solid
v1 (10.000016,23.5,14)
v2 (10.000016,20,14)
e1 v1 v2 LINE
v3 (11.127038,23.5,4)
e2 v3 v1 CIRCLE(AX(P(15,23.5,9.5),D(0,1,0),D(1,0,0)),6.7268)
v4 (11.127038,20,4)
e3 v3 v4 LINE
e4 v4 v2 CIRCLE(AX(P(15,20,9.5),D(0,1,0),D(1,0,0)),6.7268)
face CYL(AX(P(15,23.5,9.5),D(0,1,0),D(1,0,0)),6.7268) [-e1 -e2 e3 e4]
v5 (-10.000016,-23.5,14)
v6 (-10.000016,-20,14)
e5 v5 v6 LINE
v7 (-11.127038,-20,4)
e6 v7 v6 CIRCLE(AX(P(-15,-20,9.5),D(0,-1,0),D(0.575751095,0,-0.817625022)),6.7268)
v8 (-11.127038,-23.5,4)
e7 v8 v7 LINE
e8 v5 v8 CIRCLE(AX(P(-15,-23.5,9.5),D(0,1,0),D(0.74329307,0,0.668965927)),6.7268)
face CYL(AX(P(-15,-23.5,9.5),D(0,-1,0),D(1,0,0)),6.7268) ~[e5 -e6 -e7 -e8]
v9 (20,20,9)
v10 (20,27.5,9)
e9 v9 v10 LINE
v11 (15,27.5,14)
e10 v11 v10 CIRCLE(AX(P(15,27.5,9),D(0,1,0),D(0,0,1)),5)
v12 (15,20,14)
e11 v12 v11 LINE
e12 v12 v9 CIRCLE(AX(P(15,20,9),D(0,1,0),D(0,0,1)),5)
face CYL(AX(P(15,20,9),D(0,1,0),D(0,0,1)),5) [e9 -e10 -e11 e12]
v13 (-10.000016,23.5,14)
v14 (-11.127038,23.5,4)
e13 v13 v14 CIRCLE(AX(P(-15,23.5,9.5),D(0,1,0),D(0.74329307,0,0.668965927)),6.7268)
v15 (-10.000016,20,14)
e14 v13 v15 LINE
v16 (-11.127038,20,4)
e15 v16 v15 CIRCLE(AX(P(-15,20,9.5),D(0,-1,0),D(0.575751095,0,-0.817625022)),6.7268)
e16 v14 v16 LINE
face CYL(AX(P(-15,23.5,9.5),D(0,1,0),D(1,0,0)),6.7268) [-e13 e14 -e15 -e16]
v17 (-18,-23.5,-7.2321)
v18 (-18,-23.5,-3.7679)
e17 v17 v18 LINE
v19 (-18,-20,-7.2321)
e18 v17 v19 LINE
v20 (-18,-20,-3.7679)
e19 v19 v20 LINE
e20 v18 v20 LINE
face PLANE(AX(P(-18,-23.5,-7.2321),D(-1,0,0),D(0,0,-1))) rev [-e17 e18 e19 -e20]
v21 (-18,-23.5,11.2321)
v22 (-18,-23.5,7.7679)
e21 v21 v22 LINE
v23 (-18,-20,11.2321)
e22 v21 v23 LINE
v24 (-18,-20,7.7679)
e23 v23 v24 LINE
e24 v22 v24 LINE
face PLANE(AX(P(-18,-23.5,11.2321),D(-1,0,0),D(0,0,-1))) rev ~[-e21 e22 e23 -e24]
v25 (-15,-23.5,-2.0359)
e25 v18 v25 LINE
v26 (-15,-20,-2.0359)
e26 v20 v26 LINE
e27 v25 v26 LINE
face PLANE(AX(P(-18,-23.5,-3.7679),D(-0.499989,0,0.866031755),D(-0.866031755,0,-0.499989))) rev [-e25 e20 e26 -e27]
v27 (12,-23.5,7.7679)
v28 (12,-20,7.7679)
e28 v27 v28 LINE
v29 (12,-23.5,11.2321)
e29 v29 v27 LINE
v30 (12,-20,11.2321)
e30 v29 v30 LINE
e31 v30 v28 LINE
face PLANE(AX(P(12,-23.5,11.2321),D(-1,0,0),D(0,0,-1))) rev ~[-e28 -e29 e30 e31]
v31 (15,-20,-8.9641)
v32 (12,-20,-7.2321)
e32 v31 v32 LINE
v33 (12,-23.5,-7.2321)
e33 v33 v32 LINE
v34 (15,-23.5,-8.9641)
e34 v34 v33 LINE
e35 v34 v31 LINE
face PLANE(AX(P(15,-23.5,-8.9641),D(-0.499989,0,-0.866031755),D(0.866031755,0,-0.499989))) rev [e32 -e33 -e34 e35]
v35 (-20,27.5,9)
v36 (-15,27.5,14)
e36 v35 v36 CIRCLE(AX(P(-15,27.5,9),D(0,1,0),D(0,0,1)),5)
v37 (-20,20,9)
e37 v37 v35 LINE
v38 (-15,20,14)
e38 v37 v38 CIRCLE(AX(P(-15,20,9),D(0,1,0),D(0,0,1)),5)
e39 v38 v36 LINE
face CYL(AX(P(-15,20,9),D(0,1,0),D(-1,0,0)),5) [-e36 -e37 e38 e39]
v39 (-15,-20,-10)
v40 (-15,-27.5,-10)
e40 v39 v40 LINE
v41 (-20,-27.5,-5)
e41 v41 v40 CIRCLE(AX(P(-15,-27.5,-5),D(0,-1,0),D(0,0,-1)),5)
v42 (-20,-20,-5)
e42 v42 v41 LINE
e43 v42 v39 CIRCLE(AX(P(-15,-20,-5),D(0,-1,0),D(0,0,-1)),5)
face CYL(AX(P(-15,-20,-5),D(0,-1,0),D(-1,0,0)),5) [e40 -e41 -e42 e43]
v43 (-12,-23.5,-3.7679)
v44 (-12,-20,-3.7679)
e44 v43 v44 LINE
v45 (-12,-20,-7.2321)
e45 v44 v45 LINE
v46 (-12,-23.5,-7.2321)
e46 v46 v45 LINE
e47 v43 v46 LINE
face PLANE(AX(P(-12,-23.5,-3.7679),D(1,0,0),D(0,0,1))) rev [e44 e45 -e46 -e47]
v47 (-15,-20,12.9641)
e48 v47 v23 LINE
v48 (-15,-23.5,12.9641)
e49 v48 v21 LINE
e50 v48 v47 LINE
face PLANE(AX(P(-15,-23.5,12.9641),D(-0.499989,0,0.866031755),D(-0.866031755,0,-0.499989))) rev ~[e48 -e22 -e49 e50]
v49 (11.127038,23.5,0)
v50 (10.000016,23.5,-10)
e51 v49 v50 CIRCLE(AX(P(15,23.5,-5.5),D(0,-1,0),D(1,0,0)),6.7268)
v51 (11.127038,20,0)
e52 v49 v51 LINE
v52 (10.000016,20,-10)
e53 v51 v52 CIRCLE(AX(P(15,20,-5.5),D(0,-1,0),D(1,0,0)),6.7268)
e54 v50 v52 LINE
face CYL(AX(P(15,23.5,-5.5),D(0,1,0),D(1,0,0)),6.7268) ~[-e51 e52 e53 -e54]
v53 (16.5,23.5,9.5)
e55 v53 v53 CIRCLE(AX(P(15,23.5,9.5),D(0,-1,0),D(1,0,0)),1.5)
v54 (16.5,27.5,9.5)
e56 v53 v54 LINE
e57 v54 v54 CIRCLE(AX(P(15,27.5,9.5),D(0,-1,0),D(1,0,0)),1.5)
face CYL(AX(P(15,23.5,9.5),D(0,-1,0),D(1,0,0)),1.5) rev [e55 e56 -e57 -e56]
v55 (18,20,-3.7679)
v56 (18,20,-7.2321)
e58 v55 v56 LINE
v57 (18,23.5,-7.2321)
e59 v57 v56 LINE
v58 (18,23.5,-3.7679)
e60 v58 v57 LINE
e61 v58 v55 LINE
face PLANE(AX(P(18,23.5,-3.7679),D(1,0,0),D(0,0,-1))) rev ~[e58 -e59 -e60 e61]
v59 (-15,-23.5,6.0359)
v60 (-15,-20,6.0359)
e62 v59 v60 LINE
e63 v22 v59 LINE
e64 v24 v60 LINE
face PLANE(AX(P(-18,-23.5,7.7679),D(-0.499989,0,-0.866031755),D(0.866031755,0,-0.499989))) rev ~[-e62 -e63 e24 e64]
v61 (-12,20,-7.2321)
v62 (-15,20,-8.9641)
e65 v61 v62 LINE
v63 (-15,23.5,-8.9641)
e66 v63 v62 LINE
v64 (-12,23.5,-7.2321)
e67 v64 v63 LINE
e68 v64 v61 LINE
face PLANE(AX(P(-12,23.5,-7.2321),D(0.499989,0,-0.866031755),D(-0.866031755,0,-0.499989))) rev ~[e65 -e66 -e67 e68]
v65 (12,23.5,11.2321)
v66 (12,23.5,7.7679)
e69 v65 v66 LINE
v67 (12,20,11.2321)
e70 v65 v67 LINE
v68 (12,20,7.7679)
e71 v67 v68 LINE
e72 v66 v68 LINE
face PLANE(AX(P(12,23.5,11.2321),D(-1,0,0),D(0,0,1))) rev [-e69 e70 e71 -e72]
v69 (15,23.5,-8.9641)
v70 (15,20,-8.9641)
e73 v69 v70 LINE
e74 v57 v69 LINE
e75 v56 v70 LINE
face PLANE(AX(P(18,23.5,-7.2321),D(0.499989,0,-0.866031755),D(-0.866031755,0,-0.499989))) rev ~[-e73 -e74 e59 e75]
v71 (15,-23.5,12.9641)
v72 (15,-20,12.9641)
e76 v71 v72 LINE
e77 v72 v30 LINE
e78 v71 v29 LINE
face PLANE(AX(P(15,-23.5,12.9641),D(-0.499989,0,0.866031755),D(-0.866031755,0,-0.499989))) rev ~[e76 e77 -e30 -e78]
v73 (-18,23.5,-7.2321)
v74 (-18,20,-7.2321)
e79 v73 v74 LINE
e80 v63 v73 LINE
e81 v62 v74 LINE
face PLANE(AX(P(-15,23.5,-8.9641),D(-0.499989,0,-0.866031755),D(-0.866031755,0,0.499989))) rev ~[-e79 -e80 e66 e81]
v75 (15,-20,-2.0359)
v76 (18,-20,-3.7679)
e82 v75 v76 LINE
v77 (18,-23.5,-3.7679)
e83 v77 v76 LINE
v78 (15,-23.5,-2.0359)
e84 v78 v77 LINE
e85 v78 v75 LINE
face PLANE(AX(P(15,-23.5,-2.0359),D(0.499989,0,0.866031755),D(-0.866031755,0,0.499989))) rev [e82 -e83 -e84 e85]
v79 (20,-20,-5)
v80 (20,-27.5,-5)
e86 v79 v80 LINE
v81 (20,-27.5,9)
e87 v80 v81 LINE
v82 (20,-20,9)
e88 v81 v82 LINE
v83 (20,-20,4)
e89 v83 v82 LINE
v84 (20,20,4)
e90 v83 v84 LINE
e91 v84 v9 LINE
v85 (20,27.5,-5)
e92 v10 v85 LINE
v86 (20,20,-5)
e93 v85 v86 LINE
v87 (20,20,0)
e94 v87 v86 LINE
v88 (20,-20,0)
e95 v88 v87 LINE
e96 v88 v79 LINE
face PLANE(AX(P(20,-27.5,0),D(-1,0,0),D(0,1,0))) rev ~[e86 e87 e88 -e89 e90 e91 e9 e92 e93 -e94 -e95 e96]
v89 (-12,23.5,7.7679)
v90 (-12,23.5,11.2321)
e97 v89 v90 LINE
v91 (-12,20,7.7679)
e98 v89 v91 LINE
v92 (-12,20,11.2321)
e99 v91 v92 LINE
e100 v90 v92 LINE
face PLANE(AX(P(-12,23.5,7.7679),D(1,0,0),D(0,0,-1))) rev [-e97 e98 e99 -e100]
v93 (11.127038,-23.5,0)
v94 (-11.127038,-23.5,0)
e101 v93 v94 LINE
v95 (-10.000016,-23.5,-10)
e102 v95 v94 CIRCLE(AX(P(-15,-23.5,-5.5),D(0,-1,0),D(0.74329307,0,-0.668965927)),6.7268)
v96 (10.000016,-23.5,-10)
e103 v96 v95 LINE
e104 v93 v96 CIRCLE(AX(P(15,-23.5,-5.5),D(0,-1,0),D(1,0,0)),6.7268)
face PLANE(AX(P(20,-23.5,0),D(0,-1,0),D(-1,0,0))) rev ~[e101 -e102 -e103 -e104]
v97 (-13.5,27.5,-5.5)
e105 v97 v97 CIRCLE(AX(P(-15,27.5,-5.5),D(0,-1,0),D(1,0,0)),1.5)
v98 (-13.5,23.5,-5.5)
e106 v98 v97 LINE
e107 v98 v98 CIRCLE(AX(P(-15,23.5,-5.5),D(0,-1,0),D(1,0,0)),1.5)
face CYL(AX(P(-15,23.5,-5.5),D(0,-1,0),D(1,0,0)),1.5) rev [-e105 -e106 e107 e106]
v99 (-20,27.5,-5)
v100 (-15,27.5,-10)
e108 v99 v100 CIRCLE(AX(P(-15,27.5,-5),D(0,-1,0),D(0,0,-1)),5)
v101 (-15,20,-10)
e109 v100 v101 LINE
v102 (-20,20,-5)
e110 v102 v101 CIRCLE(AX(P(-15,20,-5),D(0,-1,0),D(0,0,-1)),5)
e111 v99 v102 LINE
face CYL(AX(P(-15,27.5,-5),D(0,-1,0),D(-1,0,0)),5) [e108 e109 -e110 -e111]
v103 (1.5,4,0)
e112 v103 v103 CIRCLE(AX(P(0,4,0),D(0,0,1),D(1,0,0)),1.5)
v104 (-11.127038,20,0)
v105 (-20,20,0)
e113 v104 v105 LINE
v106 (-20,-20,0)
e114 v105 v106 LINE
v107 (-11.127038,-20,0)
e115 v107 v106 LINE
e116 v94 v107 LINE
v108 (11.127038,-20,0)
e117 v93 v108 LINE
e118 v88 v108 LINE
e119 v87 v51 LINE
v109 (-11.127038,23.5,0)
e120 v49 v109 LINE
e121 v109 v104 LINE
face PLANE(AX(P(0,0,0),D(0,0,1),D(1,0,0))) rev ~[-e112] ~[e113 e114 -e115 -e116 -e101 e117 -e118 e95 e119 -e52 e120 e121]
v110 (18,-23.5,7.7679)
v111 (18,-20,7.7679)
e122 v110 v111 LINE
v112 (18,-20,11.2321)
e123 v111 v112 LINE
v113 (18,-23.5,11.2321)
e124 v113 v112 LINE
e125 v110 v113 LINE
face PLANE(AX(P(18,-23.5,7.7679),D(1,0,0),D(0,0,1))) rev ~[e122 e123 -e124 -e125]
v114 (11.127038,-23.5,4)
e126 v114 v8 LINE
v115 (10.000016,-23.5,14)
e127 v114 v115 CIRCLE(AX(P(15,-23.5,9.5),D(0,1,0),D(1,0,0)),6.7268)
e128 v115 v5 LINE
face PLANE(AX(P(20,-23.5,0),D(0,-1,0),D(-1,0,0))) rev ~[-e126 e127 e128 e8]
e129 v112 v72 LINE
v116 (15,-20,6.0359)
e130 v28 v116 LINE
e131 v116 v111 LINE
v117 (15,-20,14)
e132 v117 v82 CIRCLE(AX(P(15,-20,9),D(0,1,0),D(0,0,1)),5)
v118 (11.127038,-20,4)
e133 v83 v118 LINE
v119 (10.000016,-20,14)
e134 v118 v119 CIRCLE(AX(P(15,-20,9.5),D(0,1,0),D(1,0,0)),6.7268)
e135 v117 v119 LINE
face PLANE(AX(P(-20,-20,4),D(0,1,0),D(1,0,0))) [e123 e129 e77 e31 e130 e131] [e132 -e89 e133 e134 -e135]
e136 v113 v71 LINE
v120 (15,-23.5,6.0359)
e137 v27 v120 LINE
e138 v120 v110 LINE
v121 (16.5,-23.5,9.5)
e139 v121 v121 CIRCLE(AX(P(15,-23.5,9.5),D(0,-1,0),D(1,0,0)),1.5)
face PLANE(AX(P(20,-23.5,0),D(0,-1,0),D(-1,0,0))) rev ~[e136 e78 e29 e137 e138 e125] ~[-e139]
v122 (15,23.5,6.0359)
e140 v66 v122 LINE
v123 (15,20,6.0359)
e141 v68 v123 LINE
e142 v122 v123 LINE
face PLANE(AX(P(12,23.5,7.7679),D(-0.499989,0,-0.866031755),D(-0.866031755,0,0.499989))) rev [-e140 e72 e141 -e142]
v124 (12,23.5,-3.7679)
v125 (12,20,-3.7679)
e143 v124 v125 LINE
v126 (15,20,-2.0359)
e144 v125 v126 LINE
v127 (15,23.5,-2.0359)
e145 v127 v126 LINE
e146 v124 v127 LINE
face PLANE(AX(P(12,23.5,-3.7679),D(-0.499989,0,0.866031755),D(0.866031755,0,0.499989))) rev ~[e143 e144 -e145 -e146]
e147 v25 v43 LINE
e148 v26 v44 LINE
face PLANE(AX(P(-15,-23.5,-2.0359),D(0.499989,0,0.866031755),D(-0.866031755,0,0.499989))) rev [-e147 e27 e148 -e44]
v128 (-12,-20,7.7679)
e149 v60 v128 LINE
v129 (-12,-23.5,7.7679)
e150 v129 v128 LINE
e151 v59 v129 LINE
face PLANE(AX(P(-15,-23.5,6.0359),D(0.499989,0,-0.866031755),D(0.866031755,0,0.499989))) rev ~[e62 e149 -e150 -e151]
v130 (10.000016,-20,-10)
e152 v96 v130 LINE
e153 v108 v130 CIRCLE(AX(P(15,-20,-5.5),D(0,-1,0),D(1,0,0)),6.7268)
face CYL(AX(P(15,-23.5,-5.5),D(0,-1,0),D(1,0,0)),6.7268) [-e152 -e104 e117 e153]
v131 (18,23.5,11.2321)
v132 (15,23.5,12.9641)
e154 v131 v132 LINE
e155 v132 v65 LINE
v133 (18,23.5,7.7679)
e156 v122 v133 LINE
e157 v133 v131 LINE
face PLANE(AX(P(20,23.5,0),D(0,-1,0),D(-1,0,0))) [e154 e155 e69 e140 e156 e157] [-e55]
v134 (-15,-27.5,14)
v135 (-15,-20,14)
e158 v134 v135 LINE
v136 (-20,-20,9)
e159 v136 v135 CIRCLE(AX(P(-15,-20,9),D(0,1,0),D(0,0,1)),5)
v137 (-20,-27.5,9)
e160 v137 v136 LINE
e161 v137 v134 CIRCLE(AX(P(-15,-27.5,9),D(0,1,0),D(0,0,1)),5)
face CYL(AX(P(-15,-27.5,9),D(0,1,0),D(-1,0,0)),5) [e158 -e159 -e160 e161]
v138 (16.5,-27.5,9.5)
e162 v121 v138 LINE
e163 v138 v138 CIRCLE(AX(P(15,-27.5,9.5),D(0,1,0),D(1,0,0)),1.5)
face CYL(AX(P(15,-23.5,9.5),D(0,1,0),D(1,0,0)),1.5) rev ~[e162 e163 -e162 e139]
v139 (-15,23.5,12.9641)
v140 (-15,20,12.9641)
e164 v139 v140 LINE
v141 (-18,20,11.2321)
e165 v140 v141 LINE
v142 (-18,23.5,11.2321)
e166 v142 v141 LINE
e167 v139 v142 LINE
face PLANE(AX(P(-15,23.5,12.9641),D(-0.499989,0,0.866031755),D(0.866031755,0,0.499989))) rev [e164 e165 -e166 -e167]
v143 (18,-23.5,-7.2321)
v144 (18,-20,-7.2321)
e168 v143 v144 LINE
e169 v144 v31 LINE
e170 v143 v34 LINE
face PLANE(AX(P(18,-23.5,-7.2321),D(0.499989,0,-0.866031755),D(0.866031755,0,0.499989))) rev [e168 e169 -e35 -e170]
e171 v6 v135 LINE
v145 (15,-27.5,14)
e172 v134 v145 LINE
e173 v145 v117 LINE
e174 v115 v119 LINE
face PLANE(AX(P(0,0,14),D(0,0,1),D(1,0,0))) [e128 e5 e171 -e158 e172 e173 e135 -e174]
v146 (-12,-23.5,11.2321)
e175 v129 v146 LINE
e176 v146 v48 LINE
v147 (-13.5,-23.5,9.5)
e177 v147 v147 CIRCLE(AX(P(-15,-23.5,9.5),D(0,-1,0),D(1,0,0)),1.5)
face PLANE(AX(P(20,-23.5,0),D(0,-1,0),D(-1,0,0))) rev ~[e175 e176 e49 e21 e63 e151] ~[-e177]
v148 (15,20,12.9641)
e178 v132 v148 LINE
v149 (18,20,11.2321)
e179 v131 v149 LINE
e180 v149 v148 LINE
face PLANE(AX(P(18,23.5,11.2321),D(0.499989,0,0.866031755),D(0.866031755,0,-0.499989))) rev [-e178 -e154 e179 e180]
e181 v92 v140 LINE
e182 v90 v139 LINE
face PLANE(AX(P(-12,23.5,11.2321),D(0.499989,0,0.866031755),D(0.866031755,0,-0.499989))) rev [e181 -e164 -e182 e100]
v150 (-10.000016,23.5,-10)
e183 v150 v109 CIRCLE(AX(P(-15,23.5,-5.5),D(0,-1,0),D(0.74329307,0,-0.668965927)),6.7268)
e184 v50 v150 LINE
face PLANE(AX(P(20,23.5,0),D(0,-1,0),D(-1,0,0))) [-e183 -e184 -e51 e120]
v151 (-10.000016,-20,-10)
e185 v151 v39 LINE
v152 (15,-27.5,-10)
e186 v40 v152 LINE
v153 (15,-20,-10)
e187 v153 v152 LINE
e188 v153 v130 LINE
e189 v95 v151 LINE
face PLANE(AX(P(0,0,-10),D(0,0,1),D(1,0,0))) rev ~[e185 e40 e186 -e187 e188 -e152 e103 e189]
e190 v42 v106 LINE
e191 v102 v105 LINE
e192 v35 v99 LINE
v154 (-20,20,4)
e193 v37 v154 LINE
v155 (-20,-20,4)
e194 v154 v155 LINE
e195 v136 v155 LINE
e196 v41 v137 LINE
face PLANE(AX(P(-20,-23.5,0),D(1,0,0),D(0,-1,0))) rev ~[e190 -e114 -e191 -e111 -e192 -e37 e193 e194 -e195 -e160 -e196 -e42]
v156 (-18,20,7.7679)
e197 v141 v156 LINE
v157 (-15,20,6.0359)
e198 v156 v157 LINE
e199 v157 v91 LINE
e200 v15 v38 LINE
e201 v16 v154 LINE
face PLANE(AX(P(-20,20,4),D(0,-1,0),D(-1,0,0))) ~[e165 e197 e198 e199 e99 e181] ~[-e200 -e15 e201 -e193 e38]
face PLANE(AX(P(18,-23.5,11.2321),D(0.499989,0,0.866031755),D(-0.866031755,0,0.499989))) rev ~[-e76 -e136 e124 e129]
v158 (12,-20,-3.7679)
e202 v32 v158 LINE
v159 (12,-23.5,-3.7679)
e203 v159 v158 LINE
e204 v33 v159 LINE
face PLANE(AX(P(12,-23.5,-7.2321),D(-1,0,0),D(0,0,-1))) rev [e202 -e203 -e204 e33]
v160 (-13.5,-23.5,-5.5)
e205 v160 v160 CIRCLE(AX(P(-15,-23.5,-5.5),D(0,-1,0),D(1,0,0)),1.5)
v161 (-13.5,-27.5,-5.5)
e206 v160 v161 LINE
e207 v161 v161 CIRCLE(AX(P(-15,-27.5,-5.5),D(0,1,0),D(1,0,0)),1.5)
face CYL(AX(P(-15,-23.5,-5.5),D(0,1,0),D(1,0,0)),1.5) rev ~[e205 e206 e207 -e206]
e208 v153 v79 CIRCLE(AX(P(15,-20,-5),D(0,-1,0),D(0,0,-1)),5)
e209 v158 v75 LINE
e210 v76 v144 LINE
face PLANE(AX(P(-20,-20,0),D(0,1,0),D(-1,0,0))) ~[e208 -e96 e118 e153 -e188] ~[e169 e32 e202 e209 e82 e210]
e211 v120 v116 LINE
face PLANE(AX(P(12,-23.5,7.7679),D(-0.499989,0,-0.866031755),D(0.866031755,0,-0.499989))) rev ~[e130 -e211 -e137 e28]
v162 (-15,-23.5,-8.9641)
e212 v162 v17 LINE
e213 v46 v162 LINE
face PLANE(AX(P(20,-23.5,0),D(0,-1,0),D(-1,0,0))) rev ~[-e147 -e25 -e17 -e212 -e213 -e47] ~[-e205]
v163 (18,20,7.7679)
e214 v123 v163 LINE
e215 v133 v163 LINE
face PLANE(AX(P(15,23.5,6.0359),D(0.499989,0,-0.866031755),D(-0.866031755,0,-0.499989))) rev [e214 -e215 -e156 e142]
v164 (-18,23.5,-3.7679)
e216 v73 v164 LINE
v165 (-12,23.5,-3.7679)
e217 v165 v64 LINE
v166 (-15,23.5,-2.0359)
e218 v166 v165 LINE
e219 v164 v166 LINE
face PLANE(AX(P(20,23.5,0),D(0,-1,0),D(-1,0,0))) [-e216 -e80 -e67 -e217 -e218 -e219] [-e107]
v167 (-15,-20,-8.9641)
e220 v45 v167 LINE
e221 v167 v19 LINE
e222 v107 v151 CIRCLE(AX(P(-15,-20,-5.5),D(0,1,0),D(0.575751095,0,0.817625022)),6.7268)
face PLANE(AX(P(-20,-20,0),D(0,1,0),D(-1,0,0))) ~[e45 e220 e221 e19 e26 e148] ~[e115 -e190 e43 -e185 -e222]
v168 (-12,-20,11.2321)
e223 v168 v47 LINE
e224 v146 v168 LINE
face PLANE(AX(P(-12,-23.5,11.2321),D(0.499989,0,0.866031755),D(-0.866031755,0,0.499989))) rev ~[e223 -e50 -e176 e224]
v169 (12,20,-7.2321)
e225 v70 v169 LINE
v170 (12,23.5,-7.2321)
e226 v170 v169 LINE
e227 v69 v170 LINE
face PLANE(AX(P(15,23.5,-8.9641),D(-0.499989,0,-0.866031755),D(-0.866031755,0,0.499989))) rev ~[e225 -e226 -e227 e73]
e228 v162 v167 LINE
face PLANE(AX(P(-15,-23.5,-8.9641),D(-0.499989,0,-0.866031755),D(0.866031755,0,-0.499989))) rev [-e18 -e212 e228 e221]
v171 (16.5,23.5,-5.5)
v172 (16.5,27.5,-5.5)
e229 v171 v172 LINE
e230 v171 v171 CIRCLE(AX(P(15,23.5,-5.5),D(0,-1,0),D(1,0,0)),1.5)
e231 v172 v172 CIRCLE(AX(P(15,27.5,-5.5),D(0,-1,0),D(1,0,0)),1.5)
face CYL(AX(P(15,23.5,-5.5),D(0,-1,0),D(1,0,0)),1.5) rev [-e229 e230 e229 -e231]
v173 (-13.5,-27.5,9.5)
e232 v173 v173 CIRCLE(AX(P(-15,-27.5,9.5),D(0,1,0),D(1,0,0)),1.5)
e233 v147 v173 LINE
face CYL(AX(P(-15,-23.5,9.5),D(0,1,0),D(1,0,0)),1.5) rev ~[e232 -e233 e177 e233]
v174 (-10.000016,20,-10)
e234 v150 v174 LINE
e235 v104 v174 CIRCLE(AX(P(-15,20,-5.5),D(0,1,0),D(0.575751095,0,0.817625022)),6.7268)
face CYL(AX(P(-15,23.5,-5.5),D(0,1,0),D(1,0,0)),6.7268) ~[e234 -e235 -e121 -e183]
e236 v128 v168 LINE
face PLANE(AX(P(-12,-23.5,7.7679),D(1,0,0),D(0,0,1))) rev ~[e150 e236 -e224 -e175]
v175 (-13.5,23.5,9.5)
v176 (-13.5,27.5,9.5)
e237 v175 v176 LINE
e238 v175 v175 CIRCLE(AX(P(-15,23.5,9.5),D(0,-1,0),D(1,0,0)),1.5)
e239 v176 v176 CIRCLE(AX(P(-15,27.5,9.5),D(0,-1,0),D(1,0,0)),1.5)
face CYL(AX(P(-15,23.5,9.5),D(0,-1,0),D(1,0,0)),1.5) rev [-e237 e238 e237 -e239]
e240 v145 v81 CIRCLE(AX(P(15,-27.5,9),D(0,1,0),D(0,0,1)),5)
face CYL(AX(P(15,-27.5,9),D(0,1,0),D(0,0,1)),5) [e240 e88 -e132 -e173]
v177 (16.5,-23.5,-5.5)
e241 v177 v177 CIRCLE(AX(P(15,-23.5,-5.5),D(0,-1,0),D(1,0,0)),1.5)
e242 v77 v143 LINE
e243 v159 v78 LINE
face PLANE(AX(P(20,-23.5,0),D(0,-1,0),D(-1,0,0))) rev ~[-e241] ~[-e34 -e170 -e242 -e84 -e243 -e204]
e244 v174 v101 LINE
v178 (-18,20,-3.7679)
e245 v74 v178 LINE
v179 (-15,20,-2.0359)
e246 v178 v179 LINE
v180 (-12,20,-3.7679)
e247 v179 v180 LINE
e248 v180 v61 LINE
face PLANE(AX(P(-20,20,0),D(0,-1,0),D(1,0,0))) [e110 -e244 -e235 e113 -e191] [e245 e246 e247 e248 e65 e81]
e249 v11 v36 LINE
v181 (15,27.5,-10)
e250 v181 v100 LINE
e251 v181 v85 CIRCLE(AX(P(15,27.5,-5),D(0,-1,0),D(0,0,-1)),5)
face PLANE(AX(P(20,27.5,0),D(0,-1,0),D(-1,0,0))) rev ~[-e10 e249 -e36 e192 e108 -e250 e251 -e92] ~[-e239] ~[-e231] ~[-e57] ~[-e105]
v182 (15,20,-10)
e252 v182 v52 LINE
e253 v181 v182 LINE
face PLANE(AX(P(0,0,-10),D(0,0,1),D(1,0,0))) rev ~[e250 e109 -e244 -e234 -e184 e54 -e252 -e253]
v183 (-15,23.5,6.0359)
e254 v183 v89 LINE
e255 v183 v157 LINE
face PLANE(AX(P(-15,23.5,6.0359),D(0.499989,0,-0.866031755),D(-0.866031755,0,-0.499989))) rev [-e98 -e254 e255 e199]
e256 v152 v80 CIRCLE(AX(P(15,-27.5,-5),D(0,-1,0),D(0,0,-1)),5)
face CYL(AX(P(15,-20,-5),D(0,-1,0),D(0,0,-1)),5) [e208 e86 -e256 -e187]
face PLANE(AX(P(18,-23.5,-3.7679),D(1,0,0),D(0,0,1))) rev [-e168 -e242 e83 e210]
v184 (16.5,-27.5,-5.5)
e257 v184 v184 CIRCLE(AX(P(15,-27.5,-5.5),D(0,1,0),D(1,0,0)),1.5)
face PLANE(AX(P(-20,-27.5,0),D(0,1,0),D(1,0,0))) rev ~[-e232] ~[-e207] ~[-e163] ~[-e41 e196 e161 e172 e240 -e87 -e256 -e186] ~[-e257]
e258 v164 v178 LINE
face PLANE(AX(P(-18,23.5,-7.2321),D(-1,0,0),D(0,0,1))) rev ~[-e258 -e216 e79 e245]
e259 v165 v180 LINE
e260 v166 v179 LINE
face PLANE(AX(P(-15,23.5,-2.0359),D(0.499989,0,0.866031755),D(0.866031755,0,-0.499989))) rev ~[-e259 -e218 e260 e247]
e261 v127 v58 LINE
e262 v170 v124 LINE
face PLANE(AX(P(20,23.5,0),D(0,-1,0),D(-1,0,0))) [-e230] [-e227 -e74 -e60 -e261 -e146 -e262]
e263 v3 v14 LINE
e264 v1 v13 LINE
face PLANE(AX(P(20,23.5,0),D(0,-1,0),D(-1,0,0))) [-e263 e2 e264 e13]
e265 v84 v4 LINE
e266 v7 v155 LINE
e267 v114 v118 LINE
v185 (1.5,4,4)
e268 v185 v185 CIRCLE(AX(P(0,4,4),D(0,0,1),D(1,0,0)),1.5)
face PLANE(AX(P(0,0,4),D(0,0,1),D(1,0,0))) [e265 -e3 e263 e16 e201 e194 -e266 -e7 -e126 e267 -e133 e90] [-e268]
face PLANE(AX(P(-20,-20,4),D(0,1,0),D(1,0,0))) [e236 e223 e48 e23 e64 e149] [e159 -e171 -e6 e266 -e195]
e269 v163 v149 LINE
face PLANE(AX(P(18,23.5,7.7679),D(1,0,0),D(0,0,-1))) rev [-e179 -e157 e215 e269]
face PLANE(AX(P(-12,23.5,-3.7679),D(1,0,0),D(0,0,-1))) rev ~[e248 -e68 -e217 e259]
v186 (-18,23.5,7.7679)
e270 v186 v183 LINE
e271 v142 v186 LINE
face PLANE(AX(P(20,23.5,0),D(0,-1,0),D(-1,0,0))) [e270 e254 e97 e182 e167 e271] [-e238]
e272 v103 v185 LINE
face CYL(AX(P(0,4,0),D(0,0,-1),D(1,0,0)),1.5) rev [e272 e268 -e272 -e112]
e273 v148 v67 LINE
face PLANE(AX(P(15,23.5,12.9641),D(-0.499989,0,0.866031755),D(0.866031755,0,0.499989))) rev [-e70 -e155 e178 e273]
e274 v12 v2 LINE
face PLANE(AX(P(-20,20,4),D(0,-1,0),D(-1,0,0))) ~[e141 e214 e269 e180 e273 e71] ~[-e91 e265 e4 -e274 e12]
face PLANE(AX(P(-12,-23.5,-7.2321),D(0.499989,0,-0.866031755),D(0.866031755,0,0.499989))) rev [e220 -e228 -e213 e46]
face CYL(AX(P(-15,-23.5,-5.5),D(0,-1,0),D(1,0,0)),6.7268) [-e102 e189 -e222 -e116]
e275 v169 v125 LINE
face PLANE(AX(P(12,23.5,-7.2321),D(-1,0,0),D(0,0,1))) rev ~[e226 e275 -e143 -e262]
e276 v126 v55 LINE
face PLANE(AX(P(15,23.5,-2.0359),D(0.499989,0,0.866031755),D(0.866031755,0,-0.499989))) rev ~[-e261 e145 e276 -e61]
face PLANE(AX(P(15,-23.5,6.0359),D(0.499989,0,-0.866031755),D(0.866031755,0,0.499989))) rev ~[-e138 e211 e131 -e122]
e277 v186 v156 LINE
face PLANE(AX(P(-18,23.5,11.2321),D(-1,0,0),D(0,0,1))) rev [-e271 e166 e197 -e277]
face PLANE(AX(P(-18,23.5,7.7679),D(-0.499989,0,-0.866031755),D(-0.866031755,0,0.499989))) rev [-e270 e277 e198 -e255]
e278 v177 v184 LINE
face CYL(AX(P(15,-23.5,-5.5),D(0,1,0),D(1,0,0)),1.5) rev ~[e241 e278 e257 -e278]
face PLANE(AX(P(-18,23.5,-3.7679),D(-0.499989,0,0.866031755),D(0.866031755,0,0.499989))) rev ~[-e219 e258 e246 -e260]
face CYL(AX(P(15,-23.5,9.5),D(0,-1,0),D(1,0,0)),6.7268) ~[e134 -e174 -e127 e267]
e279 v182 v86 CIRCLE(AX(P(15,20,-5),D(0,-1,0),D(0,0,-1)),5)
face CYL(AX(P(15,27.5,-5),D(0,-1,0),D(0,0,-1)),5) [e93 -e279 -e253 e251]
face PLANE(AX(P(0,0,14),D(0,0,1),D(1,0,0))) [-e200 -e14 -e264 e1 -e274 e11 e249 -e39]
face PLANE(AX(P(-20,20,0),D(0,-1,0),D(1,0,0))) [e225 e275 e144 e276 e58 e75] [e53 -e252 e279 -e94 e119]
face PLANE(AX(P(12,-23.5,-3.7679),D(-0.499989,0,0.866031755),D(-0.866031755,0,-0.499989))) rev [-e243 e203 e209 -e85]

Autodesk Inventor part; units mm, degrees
ref_plane "YZ Plane" through (0, 0, 0) normal (1, 0, 0) x (0, 1, 0)
sketch "Sketch4" plane through (0, 0, 0) normal (0, 0, 1) x (1, 0, 0)
  line L0 (-20, -27.5) -> (20, -27.5)
  line L1 (20, -27.5) -> (20, 27.5)
  line L2 (20, 27.5) -> (-20, 27.5)
  line L3 (-20, 27.5) -> (-20, -27.5)
  line L4 (-20, -27.5) -> (20, 27.5) construction
  line L5 (20, -27.5) -> (-20, 27.5) construction
  circle A0 centre (0, 4) radius 1.5
  line L6 (-20, 27.5) -> (20, 27.5)
  line L7 (20, 27.5) -> (20, 23.5)
  line L8 (20, 23.5) -> (-20, 23.5)
  line L9 (-20, 23.5) -> (-20, 27.5)
  line L10 (-20, -27.5) -> (20, -27.5)
  line L11 (20, -27.5) -> (20, -23.5)
  line L12 (20, -23.5) -> (-20, -23.5)
  line L13 (-20, -23.5) -> (-20, -27.5)
  point P0 (0, 0)
  point P1 (-20, -23.5)
  dimension "d33" = 55
  dimension "d34" = 40
  dimension "d35" = 3
  dimension "d36" = 4
  dimension "d37" = 4
  dimension "d38" = 4
extrude "Extrusion4" add sketch "Sketch4" along normal blind 4 contours L3 L8 L1 L12
extrude "Extrusion5" add sketch "Sketch4" along normal blind 14 and the other way blind 10 contours L3 L12 L1 L0 | L3 L2 L1 L8
sketch "Sketch5" plane through (-20, -23.5, 4) normal (0, 1, 0) x (1, 0, 0)
  line L0 (0, 14) -> (0, -10) projected
  line L1 (0, 2) -> (40, 2)
  line L2 (40, 14) -> (40, -10) projected
  line L3 (5, -5.5) -> (35, -5.5)
  line L4 (35, -5.5) -> (35, 9.5)
  line L5 (35, 9.5) -> (5, 9.5)
  line L6 (5, 9.5) -> (5, -5.5)
  line L7 (5, -5.5) -> (35, 9.5) construction
  line L8 (35, -5.5) -> (5, 9.5) construction
  circle A0 centre (5, 9.5) radius 1.5
  circle A1 centre (35, 9.5) radius 1.5
  circle A2 centre (35, -5.5) radius 1.5
  circle A3 centre (5, -5.5) radius 1.5
  point P0 (20, 4)
  point P1 (20, 2)
  dimension "d45" = 15
  dimension "d46" = 30
  dimension "d47" = 3
  dimension "d48" = 3
  dimension "d49" = 3
  dimension "d50" = 3
extrude "Extrusion6" cut sketch "Sketch5" against normal blind 14 contours A0 L5 L6 | L6 L5 A0 | A3 L3 L6 | L6 L3 A3 | A2 L3 L4 | L4 L3 A2 | A1 L5 L4 | L4 L5 A1
sketch "Sketch6" plane through (-20, -23.5, 4) normal (0, 1, 0) x (1, 0, 0)
  circle A0 centre (5, -5.5) radius 1.5 projected
  line L0 (5, -2.0359) -> (8, -3.7679)
  line L1 (8, -3.7679) -> (8, -7.2321)
  line L2 (8, -7.2321) -> (5, -8.9641)
  line L3 (5, -8.9641) -> (2, -7.2321)
  line L4 (2, -7.2321) -> (2, -3.7679)
  line L5 (2, -3.7679) -> (5, -2.0359)
  circle A1 centre (35, -5.5) radius 1.5 projected
  line L6 (35, -8.9641) -> (32, -7.2321)
  line L7 (32, -7.2321) -> (32, -3.7679)
  line L8 (32, -3.7679) -> (35, -2.0359)
  line L9 (35, -2.0359) -> (38, -3.7679)
  line L10 (38, -3.7679) -> (38, -7.2321)
  line L11 (38, -7.2321) -> (35, -8.9641)
  circle A2 centre (5, -5.5) radius 1.5 projected
  line L12 (40, -10) -> (0, -10) projected
  circle A3 centre (5, -5.5) radius 6.7268
  circle A4 centre (35, -5.5) radius 1.5 projected
  line L13 (40, 14) -> (40, -10) projected
  circle A5 centre (35, -5.5) radius 6.7268
  circle A6 centre (35, -5.5) radius 1.5 projected
  circle A7 centre (5, -5.5) radius 1.5 projected
  line L14 (0, 0) -> (40, 0) projected
  line L15 (0, -10) -> (0, 0) projected
  line L16 (40, -10) -> (0, -10) projected
  line L17 (40, 0) -> (40, -10) projected
  point P0 (20, 4)
  point P1 (38.873, 0)
  point P2 (31.127, 0)
  point P3 (30, -10)
  point P4 (40, -1)
  point P5 (0, -1)
  point P6 (0, -10)
  point P7 (10, -10)
  point P8 (8.873, 0)
  point P9 (1.127, 0)
  dimension "d53" = 6
  dimension "d54" = 6
extrude "Extrusion7" add sketch "Sketch6" along normal blind 3.5 contours L12 A5 L14 L13 | A5 L14 L13 | L12 L15 A3 L14 | L15 L14 A3
ref_plane "Work Plane1" through (0, 0, 2) normal (0, 0, 1) x (1, 0, 0)
mirror "Mirror1" about plane through (0, 0, 2) normal (0, 0, 1) of "Extrusion7"
ref_plane "Work Plane2" through (-11.127, 0, 0) normal (0, 1, 0) x (1, 0, 0)
mirror "Mirror2" about plane through (-11.127, 0, 0) normal (0, 1, 0) of "Extrusion7", "Mirror1", "Extrusion6"
fillet "Fillet2" radius 5 4 edges at (-20, 23.75, 14) (-20, 23.75, -10) (20, 23.75, 14) (20, 23.75, -10)
fillet "Fillet3" radius 5 4 edges at (-20, -23.75, 14) (-20, -23.75, -10) (20, -23.75, 14) (20, -23.75, -10)
properties part number "DriverHolderInside"
